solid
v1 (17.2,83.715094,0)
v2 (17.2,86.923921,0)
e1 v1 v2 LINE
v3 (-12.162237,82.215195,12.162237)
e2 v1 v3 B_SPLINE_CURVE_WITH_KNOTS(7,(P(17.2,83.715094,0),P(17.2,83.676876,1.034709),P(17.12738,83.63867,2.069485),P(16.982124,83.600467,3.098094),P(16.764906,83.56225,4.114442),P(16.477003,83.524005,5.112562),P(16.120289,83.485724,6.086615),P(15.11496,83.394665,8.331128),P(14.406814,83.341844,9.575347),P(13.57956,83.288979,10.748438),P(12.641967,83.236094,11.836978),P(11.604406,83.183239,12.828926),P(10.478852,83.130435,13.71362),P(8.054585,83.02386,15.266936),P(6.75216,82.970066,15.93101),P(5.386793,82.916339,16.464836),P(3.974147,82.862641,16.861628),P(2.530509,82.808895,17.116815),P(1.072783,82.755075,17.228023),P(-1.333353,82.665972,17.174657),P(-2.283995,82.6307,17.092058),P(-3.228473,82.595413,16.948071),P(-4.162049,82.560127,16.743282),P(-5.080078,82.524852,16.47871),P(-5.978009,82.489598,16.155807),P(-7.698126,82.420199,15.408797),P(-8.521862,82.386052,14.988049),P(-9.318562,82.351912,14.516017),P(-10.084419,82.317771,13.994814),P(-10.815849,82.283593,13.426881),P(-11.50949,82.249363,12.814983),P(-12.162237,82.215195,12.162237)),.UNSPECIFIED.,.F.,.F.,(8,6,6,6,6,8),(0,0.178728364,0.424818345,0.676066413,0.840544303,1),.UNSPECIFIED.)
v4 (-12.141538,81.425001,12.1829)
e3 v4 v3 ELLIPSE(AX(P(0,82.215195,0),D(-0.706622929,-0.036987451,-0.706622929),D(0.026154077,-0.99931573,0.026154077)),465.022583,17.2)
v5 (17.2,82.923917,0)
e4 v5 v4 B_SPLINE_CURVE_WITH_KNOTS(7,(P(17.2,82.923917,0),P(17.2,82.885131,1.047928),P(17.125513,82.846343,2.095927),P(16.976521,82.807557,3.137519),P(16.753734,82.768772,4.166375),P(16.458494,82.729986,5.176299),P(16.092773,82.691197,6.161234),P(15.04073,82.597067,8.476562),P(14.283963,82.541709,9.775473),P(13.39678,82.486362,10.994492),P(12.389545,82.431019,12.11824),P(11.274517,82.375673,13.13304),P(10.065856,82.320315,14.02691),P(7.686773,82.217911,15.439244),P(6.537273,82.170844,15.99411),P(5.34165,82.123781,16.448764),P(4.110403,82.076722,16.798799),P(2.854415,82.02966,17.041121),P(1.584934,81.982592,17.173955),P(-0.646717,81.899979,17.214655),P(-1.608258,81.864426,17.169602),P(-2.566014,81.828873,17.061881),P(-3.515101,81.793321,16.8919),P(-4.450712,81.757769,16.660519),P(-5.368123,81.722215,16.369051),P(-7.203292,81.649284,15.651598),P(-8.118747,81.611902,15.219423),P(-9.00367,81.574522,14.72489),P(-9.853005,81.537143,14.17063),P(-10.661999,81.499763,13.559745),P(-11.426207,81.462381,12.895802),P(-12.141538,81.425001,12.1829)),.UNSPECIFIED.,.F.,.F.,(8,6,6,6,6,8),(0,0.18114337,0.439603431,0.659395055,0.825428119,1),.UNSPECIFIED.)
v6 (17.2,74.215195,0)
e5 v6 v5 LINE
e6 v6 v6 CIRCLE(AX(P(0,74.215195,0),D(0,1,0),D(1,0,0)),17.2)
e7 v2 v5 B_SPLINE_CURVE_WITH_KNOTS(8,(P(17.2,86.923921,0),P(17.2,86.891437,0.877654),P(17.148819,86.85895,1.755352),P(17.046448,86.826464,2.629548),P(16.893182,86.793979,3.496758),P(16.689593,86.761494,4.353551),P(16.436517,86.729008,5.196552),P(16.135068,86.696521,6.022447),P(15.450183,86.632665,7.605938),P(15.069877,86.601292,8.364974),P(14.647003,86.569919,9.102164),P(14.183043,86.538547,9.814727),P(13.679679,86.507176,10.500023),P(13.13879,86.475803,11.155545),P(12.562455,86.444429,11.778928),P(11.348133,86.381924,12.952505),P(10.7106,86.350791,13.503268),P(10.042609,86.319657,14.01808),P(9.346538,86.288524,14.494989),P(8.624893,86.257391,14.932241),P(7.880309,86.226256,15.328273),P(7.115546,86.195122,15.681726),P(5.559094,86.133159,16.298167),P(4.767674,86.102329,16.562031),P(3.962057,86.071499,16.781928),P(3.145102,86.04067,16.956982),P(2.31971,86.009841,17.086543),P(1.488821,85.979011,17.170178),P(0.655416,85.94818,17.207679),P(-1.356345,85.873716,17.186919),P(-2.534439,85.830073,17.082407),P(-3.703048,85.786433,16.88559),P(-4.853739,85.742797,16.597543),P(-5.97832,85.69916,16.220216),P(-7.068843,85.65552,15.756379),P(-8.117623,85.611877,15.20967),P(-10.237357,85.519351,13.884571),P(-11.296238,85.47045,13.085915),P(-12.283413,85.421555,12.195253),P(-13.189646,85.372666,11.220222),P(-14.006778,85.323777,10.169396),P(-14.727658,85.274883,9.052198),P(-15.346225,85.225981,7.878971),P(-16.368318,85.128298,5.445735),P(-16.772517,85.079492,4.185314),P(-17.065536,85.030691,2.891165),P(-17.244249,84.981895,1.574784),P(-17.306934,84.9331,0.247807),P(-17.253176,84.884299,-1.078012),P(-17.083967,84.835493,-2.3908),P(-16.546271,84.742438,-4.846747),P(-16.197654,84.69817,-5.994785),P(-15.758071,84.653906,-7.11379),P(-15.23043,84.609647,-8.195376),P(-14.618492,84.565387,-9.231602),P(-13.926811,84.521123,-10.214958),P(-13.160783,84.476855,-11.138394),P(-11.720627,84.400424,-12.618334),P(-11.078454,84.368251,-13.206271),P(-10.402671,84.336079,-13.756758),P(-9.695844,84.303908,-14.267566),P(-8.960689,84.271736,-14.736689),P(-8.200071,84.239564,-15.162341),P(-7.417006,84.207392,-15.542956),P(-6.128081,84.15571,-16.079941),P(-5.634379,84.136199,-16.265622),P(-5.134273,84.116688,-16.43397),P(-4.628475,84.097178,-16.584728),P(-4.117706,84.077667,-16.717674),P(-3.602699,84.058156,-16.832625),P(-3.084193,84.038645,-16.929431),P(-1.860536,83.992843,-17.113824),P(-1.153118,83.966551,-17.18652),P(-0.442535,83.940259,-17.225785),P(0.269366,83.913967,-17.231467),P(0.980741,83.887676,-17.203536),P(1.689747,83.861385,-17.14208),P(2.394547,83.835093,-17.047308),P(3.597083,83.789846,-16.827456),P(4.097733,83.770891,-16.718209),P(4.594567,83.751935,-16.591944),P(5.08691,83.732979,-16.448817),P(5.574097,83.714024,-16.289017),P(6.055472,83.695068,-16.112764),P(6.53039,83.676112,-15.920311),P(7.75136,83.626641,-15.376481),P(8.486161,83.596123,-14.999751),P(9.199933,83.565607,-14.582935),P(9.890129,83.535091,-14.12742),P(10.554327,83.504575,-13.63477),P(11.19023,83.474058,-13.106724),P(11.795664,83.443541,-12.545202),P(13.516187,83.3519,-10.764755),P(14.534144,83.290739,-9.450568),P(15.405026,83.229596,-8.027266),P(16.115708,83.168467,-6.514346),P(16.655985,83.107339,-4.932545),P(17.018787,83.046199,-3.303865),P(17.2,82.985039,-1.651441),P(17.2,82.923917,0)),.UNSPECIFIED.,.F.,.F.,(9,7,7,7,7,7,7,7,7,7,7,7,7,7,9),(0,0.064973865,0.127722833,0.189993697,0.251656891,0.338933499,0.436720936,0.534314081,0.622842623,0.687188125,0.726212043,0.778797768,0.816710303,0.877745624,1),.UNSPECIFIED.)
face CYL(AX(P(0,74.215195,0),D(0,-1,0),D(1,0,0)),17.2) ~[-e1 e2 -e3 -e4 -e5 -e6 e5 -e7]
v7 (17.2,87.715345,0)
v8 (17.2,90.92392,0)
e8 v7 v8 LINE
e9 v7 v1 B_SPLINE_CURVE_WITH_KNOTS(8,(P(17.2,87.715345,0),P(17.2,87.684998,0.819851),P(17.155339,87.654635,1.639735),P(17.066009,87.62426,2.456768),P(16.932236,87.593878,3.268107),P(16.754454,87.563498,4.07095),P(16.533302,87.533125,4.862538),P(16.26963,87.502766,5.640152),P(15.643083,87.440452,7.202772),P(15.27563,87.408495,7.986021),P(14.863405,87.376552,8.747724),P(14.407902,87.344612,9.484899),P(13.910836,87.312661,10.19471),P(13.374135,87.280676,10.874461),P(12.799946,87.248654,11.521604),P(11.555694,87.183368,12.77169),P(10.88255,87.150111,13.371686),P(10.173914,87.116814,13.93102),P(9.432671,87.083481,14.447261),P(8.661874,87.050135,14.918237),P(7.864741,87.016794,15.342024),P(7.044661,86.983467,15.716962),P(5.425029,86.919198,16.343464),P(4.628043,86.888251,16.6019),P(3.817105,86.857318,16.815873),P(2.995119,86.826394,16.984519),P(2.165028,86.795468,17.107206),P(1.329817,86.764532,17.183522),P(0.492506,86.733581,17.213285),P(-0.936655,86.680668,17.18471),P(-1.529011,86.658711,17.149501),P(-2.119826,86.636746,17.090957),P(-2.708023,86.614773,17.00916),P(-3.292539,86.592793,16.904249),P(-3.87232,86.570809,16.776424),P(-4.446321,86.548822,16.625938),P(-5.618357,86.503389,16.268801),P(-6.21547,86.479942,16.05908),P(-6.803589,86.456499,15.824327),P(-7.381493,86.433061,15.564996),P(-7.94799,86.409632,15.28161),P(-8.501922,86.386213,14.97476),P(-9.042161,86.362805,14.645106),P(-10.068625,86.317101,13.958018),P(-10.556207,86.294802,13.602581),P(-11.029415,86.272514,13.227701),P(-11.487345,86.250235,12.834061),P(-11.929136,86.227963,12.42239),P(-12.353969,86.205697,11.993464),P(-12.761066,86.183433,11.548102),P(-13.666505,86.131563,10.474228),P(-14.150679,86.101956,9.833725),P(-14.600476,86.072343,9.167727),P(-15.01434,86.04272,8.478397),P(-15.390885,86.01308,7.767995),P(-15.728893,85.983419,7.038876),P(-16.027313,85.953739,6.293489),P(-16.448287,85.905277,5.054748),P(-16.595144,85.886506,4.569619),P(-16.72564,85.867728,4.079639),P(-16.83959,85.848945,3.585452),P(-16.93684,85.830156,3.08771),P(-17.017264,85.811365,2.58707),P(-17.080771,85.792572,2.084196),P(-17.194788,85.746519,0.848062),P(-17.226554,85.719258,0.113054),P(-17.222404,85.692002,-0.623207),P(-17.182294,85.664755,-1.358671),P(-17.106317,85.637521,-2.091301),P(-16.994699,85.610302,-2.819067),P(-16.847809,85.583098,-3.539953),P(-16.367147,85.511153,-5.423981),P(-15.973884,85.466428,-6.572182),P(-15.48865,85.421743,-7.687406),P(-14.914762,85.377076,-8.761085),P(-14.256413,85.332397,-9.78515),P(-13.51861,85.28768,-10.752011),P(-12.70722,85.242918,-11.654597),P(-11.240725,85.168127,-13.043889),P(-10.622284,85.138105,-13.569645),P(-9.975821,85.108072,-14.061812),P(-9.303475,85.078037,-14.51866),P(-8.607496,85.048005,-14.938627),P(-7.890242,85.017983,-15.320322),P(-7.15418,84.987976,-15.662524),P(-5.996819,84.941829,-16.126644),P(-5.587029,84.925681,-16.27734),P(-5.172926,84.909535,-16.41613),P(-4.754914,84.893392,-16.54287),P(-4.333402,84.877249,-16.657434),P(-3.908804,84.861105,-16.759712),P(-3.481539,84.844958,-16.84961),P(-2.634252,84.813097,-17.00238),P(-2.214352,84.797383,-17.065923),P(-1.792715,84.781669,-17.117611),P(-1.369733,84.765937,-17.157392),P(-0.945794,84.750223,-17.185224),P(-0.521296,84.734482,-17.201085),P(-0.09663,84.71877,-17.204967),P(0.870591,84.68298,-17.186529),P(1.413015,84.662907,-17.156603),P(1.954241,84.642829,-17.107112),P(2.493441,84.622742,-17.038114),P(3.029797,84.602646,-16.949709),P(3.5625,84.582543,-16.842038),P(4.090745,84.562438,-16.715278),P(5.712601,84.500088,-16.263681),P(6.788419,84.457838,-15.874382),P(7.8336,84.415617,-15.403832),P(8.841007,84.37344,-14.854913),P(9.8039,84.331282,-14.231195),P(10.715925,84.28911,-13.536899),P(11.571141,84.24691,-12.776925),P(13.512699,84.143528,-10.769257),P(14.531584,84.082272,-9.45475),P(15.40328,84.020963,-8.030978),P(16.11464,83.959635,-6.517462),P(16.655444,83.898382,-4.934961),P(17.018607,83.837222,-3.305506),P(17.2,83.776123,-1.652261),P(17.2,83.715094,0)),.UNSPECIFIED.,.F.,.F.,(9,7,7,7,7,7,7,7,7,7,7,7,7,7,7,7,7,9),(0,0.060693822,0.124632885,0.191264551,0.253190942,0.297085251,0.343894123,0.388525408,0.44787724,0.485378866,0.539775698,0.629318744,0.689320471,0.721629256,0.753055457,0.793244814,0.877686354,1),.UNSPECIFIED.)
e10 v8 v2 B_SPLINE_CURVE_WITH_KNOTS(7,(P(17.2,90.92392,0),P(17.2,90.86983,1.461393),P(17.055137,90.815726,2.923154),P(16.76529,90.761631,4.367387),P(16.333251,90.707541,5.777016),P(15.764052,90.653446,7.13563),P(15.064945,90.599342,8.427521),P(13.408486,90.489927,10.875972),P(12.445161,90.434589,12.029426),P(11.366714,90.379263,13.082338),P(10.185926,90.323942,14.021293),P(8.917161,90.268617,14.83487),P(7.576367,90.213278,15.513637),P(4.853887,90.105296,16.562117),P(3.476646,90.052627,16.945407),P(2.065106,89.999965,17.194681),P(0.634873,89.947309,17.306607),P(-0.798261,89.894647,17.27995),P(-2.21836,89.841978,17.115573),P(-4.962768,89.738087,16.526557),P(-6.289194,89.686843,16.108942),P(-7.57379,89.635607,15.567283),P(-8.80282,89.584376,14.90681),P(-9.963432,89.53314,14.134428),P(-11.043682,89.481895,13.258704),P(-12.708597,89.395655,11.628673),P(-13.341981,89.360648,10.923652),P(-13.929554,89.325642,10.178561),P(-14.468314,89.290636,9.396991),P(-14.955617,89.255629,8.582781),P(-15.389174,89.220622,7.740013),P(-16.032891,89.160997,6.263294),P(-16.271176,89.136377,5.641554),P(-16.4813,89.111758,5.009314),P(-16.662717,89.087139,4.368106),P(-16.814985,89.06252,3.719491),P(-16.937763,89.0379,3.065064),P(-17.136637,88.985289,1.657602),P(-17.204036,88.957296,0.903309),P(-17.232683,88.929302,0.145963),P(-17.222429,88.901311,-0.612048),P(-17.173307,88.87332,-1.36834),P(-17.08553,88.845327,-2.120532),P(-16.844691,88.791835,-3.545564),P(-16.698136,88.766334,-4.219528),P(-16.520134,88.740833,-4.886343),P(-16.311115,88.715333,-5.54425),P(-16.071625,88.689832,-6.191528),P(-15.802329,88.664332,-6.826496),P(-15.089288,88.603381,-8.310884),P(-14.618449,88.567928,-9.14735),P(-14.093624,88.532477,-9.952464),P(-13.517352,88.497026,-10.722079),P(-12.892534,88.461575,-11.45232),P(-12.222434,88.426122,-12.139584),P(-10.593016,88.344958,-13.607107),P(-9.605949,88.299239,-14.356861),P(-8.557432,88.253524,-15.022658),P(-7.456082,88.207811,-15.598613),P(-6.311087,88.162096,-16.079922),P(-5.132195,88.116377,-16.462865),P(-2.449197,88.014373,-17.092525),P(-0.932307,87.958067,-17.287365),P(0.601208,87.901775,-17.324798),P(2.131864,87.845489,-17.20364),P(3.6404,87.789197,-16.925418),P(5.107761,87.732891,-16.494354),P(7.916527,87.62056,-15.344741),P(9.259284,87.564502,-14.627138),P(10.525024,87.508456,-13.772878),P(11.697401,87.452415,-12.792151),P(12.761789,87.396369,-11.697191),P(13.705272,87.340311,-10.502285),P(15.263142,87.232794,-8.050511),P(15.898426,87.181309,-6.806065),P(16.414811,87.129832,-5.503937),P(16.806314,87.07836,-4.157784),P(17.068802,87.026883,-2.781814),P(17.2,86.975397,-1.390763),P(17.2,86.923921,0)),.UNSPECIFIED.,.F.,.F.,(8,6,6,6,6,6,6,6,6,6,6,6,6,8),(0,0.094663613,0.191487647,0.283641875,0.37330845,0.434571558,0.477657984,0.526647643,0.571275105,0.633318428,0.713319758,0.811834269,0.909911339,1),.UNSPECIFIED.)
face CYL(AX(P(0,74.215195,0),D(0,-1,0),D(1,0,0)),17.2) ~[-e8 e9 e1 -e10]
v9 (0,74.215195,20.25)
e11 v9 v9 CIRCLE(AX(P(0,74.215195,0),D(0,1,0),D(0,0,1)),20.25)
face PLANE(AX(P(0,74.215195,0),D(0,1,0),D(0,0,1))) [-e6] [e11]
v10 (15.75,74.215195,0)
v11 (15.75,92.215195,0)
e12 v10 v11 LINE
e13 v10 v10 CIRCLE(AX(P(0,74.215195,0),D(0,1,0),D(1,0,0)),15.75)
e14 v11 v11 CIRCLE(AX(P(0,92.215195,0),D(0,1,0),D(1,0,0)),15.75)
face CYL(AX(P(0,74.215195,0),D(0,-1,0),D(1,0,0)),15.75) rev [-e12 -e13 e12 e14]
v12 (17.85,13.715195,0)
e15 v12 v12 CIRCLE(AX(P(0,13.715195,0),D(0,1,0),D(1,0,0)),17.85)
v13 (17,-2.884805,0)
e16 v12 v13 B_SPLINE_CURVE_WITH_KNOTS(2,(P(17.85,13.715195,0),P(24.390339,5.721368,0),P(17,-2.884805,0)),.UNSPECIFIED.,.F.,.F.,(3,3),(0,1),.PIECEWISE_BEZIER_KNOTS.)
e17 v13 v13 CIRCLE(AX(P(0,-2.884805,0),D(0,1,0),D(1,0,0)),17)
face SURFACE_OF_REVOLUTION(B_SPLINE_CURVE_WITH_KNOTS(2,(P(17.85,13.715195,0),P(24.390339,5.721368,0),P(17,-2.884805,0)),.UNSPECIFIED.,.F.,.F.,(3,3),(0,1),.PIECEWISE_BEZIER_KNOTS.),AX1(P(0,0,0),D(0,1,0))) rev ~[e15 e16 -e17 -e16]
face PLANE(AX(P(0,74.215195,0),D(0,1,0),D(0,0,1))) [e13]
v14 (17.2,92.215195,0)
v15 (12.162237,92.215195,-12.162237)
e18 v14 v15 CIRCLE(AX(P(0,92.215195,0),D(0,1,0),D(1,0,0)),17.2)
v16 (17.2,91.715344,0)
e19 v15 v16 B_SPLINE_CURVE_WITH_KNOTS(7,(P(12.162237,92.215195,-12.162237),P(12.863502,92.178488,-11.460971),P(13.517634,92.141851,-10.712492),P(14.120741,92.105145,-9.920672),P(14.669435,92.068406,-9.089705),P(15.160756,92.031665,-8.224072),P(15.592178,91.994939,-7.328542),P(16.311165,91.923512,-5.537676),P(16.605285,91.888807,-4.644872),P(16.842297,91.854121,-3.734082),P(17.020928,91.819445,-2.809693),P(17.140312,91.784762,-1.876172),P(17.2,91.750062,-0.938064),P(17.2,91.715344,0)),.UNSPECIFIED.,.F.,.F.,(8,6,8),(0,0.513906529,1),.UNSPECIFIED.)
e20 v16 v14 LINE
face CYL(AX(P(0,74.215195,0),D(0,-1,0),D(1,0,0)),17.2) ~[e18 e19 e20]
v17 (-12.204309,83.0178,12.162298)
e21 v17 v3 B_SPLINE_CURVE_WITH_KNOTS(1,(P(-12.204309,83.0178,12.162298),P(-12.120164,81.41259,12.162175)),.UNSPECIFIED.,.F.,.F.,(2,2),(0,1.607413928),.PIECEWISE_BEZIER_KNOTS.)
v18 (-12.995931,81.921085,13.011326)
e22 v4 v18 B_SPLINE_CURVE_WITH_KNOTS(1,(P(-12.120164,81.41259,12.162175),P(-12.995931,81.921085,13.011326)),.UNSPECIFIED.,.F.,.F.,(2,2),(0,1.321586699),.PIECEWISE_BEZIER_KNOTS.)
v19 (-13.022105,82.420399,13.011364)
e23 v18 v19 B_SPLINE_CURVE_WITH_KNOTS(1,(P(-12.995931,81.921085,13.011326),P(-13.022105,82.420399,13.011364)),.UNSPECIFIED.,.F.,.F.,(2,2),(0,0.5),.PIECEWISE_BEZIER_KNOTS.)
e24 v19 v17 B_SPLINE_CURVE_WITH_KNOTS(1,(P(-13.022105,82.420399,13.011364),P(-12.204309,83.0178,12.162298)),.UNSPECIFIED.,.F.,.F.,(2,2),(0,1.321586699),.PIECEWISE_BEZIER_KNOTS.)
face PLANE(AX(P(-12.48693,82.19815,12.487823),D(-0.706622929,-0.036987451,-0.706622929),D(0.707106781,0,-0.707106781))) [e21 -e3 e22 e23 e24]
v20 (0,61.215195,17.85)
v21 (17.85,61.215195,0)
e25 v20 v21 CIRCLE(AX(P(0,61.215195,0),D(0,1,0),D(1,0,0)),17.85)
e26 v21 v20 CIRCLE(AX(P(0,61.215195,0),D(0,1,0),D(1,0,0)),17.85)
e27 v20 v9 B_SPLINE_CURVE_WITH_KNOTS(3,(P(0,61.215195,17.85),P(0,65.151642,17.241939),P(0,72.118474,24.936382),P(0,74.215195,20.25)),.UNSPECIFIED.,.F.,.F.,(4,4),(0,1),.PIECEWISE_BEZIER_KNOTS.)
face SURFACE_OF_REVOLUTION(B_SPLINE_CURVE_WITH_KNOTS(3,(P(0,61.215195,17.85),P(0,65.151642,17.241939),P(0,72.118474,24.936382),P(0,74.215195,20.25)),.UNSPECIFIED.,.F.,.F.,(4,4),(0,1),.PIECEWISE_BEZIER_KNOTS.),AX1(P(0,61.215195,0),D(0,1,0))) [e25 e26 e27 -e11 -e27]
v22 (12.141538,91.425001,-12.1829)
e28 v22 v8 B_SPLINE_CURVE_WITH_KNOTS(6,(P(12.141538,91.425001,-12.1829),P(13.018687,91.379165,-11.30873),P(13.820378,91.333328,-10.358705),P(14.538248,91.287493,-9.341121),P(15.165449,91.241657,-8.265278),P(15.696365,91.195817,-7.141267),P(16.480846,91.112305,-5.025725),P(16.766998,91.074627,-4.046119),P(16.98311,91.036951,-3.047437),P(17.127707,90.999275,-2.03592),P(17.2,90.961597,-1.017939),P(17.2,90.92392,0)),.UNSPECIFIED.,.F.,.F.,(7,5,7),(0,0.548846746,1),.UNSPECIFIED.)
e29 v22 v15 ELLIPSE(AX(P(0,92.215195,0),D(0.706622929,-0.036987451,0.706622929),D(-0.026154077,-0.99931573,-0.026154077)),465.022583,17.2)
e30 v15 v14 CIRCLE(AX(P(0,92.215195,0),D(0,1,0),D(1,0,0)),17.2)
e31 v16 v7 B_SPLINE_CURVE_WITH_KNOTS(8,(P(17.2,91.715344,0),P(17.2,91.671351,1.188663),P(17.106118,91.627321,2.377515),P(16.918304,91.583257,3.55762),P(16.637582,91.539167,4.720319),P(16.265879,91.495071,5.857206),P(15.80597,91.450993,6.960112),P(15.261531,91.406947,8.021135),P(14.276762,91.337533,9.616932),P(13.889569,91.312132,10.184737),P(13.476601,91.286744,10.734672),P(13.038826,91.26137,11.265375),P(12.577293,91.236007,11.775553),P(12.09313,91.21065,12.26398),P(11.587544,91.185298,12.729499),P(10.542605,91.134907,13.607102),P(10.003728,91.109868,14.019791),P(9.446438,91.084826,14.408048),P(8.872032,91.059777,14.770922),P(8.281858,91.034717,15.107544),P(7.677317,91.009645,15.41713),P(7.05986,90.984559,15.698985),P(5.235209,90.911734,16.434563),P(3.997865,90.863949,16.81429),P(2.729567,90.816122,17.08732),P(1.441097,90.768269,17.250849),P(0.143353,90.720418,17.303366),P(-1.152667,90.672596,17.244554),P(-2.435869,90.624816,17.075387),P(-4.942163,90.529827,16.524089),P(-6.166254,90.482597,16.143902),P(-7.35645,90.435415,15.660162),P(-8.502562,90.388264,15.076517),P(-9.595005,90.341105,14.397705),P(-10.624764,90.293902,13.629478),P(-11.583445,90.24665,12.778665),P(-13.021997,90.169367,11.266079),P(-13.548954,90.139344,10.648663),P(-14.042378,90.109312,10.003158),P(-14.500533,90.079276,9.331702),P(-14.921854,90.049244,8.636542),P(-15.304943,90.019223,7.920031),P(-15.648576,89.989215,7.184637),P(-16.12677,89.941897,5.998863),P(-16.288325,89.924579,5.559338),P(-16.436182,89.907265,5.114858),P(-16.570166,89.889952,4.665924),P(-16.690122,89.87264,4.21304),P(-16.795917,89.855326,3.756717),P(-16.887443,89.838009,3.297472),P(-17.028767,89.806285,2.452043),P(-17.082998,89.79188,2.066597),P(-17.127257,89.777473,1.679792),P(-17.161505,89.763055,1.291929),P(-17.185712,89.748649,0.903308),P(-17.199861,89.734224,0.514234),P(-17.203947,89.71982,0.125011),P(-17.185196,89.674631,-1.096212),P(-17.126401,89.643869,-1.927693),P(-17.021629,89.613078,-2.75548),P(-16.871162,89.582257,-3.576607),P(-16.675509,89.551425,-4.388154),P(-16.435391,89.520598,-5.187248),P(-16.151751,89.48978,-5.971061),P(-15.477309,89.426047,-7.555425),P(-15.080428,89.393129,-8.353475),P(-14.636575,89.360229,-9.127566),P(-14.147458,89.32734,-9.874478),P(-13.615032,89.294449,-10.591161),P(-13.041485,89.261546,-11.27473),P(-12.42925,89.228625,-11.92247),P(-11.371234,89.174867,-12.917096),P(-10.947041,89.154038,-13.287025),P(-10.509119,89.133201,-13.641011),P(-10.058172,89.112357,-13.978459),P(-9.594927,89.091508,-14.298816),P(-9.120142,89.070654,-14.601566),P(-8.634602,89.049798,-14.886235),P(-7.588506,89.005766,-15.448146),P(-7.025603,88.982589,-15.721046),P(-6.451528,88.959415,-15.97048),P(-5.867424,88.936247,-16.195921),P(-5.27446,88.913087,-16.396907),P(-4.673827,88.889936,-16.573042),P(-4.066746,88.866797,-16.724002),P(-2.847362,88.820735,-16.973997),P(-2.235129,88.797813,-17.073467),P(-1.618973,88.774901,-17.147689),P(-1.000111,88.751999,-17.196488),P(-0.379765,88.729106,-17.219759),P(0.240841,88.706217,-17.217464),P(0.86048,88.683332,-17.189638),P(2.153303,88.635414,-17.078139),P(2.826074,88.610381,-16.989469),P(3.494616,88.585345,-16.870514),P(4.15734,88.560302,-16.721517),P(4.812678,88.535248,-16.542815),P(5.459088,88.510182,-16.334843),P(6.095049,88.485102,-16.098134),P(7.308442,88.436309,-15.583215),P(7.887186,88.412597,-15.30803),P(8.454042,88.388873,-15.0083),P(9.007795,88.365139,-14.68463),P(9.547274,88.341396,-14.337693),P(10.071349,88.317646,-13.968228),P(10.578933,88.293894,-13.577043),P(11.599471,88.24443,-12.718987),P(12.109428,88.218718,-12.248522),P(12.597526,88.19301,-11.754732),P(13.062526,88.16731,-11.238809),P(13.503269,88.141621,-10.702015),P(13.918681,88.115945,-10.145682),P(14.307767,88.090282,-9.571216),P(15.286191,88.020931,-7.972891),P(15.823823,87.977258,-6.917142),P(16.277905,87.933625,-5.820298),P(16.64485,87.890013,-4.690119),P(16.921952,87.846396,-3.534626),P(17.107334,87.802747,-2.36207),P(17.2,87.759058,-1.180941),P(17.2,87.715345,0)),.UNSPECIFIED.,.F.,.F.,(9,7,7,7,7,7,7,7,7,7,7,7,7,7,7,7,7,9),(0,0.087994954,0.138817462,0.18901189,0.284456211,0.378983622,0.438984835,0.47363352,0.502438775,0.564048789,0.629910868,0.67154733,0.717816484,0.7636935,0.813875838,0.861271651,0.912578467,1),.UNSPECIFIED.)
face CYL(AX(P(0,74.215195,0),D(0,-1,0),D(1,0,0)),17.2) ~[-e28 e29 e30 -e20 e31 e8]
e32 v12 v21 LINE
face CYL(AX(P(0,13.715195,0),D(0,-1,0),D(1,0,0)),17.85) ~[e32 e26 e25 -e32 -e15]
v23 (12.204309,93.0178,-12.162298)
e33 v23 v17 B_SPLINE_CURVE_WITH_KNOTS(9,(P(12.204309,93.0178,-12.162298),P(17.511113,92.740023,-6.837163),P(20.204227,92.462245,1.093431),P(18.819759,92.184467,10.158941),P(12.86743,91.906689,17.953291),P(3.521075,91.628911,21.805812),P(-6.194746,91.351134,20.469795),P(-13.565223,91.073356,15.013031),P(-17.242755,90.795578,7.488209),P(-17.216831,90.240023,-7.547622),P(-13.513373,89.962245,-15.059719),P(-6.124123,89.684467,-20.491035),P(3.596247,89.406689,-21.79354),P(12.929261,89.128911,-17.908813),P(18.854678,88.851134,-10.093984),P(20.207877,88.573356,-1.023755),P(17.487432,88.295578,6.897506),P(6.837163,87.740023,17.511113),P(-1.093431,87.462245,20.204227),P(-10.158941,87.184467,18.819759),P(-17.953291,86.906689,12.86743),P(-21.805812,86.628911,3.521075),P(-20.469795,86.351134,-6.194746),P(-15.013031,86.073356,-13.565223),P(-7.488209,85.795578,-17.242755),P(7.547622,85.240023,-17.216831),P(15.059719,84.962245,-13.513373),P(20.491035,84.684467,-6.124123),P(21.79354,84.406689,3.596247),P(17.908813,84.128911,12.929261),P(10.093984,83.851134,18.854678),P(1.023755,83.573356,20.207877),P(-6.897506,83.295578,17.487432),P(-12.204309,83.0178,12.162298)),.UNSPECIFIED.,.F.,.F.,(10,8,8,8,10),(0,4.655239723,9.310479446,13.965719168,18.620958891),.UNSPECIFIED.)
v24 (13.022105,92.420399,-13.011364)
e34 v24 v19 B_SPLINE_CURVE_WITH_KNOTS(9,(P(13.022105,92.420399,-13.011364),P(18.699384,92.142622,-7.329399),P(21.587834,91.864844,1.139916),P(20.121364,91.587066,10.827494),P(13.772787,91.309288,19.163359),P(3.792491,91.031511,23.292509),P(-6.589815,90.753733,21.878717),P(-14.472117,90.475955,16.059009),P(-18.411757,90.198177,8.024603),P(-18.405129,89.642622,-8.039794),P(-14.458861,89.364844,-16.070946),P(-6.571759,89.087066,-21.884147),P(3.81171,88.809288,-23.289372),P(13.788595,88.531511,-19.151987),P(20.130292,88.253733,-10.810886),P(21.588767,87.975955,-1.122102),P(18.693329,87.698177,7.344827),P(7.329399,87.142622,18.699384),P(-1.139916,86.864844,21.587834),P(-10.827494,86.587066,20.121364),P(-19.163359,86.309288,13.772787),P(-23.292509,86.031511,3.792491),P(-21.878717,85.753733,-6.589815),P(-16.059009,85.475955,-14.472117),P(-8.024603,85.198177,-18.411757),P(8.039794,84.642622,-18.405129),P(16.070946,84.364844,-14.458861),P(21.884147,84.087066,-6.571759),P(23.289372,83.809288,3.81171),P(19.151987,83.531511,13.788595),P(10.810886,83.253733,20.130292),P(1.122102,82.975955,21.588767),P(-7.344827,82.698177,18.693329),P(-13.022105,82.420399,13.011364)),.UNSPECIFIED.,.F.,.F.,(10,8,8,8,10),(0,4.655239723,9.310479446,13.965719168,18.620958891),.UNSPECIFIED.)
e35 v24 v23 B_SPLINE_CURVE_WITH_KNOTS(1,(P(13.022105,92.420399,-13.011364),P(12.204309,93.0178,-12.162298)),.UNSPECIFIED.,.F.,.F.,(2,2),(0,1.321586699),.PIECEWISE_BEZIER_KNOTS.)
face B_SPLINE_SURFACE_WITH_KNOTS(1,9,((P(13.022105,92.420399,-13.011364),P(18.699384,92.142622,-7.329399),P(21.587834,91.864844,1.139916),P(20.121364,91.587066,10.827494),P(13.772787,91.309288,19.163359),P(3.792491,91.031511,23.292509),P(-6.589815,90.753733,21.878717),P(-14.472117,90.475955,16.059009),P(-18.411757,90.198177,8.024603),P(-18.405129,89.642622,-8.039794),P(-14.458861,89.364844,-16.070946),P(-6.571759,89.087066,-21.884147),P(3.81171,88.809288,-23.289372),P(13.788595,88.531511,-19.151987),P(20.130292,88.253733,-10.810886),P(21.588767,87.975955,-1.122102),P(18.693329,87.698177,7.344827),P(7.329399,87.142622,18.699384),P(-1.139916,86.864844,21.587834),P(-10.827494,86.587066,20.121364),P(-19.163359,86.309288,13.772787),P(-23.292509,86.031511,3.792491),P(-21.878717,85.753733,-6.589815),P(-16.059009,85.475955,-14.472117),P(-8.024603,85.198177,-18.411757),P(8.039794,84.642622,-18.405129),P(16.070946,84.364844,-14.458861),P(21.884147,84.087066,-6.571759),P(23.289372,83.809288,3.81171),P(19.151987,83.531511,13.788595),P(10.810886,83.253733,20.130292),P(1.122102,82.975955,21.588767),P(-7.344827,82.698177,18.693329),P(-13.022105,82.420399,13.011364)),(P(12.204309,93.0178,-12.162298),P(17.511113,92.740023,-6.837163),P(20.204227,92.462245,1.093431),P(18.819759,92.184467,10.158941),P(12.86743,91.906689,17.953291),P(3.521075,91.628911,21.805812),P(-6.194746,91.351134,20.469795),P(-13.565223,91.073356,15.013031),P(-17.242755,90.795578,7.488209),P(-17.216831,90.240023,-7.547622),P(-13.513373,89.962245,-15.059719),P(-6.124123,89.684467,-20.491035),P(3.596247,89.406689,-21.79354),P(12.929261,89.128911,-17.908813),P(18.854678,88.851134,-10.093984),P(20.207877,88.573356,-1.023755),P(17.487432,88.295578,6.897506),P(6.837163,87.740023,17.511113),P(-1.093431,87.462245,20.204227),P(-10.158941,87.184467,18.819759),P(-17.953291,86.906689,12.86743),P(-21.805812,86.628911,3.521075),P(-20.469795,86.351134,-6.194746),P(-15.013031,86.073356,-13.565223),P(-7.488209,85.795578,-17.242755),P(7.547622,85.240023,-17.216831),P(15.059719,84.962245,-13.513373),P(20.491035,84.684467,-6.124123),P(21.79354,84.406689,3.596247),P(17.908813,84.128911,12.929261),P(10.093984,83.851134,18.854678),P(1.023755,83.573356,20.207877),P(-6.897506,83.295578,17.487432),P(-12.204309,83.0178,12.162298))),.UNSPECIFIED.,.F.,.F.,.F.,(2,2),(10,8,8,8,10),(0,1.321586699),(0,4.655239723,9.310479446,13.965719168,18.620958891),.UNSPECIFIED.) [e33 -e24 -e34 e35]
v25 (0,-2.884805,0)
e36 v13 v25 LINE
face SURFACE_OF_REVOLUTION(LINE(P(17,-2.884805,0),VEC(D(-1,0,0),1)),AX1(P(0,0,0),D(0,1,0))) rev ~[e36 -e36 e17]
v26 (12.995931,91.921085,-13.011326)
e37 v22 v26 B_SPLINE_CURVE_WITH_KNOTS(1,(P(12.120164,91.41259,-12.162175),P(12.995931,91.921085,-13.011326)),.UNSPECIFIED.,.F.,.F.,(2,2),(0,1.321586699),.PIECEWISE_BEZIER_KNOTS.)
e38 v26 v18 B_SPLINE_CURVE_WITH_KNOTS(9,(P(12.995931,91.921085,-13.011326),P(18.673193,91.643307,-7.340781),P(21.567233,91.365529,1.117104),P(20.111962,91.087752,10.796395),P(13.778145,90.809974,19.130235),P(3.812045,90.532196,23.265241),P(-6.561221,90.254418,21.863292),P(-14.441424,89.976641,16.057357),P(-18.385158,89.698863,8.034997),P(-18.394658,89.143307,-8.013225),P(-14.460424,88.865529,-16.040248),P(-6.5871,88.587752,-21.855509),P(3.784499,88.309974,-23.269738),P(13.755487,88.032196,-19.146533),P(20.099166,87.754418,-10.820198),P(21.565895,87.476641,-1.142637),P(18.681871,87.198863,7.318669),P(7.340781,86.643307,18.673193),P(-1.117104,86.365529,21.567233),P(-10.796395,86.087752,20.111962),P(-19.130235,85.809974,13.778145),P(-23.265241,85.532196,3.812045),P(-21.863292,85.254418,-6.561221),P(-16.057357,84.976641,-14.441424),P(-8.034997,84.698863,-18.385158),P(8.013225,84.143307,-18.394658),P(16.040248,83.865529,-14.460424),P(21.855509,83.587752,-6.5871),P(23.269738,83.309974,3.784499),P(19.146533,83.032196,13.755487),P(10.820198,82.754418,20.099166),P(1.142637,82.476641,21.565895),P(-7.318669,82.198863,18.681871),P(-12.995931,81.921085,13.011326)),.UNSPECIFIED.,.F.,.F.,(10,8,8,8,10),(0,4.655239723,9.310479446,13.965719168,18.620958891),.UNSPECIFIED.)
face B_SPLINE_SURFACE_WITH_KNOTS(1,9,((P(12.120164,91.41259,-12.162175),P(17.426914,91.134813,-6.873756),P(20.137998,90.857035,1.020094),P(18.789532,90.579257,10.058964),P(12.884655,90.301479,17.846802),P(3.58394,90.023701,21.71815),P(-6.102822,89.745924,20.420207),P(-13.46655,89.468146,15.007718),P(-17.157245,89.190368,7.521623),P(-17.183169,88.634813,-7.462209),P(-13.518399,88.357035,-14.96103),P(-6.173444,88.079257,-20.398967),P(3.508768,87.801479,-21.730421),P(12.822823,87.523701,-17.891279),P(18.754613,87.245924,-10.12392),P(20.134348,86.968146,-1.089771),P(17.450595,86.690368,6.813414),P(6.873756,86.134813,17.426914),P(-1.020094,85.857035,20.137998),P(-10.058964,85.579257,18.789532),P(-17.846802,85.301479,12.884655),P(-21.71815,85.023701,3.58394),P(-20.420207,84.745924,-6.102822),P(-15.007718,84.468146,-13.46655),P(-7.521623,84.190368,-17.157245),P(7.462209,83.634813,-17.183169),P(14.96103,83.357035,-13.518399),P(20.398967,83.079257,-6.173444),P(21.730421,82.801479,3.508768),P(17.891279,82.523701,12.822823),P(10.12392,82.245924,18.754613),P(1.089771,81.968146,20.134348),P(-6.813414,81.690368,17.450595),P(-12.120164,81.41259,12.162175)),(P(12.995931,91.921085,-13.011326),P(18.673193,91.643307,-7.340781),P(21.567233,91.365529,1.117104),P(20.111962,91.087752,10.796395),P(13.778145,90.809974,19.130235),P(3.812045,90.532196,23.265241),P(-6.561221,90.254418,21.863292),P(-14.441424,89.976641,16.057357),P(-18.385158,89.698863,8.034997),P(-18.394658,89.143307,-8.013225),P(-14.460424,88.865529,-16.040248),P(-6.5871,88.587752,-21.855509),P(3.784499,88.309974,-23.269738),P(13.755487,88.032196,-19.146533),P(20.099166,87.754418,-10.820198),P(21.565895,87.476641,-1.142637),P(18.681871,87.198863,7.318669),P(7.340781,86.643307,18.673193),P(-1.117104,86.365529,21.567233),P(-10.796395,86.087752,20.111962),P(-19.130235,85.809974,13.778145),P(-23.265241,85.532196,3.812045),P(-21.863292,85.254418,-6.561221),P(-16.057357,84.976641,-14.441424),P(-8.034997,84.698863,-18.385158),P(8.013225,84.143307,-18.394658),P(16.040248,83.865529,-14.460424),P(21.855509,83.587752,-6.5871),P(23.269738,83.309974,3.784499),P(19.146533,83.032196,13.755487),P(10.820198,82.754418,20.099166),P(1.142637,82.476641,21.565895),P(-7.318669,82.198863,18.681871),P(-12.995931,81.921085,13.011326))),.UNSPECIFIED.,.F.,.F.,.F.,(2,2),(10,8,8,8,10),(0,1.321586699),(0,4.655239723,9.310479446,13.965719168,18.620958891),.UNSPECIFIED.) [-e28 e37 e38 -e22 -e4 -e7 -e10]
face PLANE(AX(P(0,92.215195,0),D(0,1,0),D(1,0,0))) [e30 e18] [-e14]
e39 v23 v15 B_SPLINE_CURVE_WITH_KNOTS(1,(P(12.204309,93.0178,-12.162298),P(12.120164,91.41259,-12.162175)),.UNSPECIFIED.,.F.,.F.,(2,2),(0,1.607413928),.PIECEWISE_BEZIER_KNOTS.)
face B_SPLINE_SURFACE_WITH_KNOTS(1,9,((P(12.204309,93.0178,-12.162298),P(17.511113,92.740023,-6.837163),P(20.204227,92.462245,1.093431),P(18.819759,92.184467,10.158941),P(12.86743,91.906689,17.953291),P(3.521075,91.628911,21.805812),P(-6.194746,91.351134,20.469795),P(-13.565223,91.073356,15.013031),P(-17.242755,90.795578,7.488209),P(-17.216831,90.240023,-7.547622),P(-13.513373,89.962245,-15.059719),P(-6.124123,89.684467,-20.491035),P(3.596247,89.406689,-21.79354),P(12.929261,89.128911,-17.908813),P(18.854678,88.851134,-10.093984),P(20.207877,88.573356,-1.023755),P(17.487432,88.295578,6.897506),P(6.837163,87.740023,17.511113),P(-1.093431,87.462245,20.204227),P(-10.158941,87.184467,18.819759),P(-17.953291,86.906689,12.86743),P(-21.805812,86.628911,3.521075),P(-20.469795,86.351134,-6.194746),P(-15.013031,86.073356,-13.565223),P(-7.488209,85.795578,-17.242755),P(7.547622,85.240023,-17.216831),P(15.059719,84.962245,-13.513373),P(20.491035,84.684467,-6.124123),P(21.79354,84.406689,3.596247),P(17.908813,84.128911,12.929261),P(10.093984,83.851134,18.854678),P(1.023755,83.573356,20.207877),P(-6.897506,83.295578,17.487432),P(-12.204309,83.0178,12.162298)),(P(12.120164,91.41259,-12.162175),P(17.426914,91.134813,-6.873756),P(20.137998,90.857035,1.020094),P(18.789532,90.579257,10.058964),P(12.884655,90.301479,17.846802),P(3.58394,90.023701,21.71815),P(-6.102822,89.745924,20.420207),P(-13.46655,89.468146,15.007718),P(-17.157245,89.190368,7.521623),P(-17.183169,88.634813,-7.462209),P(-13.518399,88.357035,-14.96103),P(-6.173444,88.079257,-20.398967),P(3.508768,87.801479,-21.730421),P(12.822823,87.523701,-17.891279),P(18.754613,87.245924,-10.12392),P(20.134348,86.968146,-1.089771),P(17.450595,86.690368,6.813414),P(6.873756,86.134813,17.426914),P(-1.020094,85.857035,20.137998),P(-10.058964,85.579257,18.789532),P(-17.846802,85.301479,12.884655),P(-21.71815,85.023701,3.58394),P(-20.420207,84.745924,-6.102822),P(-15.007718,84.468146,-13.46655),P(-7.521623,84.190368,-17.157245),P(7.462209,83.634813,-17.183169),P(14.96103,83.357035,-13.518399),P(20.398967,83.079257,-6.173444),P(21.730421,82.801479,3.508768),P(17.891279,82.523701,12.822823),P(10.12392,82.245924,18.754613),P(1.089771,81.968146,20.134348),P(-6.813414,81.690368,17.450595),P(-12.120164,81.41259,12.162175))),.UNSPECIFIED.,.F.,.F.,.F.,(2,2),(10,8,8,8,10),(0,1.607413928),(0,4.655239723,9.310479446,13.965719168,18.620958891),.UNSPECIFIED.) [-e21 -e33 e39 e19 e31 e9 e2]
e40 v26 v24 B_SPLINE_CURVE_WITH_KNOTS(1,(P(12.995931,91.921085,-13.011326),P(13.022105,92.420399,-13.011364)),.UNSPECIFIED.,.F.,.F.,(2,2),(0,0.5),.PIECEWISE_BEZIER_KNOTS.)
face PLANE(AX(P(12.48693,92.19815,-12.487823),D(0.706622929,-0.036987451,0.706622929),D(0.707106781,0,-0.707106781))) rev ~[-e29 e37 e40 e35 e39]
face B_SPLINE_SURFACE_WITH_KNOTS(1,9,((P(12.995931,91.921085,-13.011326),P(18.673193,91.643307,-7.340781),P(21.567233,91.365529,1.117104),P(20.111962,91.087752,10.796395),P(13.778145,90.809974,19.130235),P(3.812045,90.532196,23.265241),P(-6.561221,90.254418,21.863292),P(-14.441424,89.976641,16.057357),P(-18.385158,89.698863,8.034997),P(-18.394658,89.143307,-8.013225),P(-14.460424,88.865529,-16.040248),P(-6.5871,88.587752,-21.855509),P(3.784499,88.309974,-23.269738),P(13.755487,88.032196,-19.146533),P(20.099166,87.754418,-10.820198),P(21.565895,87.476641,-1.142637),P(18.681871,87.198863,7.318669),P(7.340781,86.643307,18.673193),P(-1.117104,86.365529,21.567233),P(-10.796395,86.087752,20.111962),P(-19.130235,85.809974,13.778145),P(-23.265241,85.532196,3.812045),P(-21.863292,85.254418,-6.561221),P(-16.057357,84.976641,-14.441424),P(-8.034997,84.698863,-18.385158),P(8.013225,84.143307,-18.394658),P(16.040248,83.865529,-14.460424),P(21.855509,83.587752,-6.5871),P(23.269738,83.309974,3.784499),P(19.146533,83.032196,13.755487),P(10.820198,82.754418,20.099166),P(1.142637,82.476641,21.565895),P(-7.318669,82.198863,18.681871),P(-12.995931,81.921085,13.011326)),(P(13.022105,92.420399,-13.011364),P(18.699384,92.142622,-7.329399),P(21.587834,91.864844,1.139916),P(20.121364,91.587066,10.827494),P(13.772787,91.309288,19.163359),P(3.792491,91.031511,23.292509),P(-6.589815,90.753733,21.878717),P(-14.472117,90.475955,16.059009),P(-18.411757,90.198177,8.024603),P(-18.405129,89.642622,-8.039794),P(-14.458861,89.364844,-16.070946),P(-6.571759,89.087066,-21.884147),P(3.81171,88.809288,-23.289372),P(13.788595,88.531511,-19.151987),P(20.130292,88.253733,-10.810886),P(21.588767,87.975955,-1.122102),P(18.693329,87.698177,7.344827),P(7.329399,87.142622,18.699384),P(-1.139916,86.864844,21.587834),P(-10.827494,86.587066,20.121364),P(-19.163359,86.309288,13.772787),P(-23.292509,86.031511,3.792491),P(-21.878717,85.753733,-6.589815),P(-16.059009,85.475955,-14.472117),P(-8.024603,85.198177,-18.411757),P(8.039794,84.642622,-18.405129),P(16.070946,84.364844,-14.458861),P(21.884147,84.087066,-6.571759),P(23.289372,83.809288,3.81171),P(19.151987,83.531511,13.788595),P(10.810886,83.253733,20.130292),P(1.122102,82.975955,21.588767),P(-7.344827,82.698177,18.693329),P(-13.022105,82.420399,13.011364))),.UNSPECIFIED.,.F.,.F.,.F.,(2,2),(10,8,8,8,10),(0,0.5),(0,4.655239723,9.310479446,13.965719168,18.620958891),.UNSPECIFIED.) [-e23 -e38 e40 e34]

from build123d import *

# Parameters (mm, degrees)
SKETCH_3_R          = 17.85
EXTRUDE_1_DEPTH     = 47.5
SKETCH_5_R          = 17.2
SKETCH_5_R_2        = 15.75
EXTRUDE_2_DEPTH     = 18
SWEEP_6_PITCH       = 4
SWEEP_6_HEIGHT      = 10
SWEEP_6_RADIUS      = 17.2
SWEEP_6_START_ANGLE = 45


with BuildPart() as part:
    # По траектории5: sweep along a path in Эскиз1
    with BuildLine(Plane(origin=(0, 0, 0), x_dir=(1, 0, 0), z_dir=(0, 1, 0))) as sweep_5_path:
        CenterArc((0, 0), 20.25, 0, 360)
    # Эскиз2 → По траектории5 (sweep)
    with BuildSketch(Plane(origin=(0, 0, 20.25), x_dir=(0, 0, -1), z_dir=(1, 0, 0))):
        with BuildLine():
            Line((20.25, -2.884804654), (20.25, 13.715195346))
            Line((20.25, 13.715195346), (2.4, 13.715195346))
            add(Edge.make_bspline(
                [(3.25, -2.884804654), (-4.140339113, 5.721368346), (2.4, 13.715195346)],
                knots=[0, 0, 0, 1, 1, 1], degree=2))
            Line((3.25, -2.884804654), (20.25, -2.884804654))
        make_face()
    sweep(path=sweep_5_path.line)

    # Эскиз3 → Бобышка-Вытянуть1 (add)
    with BuildSketch(Plane(origin=(0, 13.715195346, 0), x_dir=(1, 0, 0), z_dir=(0, 1, 0))):
        Circle(SKETCH_3_R)
    extrude(amount=EXTRUDE_1_DEPTH)

    # Эскиз4 → Повернуть1 (revolve)
    with BuildSketch(Plane(origin=(0, 0, 20.25), x_dir=(0, 0, -1), z_dir=(1, 0, 0))):
        with BuildLine():
            add(Edge.make_bspline(
                [(2.4, 61.215195346), (3.008061282, 65.151641805), (-4.686382265, 72.118473987), (0, 74.215195346)],
                knots=[0, 0, 0, 0, 1, 1, 1, 1], degree=3))
            Line((0, 74.215195346), (20.25, 74.215195346))
            Line((20.25, 74.215195346), (20.25, 61.215195346))
            Line((20.25, 61.215195346), (2.4, 61.215195346))
        make_face()
    revolve(axis=Axis((0, 61.215195346, 0), (0, 1, 0)))

    # Эскиз5 → Бобышка-Вытянуть2 (add)
    with BuildSketch(Plane(origin=(0, 74.215195346, 0), x_dir=(1, 0, 0), z_dir=(0, 1, 0))):
        Circle(SKETCH_5_R)
        Circle(SKETCH_5_R_2, mode=Mode.SUBTRACT)
    extrude(amount=EXTRUDE_2_DEPTH)

    # По траектории6: sweep along a helix
    with BuildLine() as sweep_6_path:
        add(Helix(SWEEP_6_PITCH, SWEEP_6_HEIGHT, SWEEP_6_RADIUS, center=(0, 92.215195346, 0), direction=(0, -1, 0), mode=Mode.PRIVATE).rotate(Axis((0, 92.215195346, 0), (0, -1, 0)), SWEEP_6_START_ANGLE))
    # Эскиз9 → По траектории6 (sweep)
    with BuildSketch(Plane(origin=(12.162236636, 92.215195346, -12.162236636), x_dir=(0.705651254, -0.037044276, -0.707590298), z_dir=(0.706622929, -0.036987451, 0.706622929))):
        Polygon((0, 0.803706964), (0, -0.803706964), (1.2, -0.25), (1.2, 0.25), align=None)
    sweep(path=sweep_6_path.line, is_frenet=True)


solid = part.part
